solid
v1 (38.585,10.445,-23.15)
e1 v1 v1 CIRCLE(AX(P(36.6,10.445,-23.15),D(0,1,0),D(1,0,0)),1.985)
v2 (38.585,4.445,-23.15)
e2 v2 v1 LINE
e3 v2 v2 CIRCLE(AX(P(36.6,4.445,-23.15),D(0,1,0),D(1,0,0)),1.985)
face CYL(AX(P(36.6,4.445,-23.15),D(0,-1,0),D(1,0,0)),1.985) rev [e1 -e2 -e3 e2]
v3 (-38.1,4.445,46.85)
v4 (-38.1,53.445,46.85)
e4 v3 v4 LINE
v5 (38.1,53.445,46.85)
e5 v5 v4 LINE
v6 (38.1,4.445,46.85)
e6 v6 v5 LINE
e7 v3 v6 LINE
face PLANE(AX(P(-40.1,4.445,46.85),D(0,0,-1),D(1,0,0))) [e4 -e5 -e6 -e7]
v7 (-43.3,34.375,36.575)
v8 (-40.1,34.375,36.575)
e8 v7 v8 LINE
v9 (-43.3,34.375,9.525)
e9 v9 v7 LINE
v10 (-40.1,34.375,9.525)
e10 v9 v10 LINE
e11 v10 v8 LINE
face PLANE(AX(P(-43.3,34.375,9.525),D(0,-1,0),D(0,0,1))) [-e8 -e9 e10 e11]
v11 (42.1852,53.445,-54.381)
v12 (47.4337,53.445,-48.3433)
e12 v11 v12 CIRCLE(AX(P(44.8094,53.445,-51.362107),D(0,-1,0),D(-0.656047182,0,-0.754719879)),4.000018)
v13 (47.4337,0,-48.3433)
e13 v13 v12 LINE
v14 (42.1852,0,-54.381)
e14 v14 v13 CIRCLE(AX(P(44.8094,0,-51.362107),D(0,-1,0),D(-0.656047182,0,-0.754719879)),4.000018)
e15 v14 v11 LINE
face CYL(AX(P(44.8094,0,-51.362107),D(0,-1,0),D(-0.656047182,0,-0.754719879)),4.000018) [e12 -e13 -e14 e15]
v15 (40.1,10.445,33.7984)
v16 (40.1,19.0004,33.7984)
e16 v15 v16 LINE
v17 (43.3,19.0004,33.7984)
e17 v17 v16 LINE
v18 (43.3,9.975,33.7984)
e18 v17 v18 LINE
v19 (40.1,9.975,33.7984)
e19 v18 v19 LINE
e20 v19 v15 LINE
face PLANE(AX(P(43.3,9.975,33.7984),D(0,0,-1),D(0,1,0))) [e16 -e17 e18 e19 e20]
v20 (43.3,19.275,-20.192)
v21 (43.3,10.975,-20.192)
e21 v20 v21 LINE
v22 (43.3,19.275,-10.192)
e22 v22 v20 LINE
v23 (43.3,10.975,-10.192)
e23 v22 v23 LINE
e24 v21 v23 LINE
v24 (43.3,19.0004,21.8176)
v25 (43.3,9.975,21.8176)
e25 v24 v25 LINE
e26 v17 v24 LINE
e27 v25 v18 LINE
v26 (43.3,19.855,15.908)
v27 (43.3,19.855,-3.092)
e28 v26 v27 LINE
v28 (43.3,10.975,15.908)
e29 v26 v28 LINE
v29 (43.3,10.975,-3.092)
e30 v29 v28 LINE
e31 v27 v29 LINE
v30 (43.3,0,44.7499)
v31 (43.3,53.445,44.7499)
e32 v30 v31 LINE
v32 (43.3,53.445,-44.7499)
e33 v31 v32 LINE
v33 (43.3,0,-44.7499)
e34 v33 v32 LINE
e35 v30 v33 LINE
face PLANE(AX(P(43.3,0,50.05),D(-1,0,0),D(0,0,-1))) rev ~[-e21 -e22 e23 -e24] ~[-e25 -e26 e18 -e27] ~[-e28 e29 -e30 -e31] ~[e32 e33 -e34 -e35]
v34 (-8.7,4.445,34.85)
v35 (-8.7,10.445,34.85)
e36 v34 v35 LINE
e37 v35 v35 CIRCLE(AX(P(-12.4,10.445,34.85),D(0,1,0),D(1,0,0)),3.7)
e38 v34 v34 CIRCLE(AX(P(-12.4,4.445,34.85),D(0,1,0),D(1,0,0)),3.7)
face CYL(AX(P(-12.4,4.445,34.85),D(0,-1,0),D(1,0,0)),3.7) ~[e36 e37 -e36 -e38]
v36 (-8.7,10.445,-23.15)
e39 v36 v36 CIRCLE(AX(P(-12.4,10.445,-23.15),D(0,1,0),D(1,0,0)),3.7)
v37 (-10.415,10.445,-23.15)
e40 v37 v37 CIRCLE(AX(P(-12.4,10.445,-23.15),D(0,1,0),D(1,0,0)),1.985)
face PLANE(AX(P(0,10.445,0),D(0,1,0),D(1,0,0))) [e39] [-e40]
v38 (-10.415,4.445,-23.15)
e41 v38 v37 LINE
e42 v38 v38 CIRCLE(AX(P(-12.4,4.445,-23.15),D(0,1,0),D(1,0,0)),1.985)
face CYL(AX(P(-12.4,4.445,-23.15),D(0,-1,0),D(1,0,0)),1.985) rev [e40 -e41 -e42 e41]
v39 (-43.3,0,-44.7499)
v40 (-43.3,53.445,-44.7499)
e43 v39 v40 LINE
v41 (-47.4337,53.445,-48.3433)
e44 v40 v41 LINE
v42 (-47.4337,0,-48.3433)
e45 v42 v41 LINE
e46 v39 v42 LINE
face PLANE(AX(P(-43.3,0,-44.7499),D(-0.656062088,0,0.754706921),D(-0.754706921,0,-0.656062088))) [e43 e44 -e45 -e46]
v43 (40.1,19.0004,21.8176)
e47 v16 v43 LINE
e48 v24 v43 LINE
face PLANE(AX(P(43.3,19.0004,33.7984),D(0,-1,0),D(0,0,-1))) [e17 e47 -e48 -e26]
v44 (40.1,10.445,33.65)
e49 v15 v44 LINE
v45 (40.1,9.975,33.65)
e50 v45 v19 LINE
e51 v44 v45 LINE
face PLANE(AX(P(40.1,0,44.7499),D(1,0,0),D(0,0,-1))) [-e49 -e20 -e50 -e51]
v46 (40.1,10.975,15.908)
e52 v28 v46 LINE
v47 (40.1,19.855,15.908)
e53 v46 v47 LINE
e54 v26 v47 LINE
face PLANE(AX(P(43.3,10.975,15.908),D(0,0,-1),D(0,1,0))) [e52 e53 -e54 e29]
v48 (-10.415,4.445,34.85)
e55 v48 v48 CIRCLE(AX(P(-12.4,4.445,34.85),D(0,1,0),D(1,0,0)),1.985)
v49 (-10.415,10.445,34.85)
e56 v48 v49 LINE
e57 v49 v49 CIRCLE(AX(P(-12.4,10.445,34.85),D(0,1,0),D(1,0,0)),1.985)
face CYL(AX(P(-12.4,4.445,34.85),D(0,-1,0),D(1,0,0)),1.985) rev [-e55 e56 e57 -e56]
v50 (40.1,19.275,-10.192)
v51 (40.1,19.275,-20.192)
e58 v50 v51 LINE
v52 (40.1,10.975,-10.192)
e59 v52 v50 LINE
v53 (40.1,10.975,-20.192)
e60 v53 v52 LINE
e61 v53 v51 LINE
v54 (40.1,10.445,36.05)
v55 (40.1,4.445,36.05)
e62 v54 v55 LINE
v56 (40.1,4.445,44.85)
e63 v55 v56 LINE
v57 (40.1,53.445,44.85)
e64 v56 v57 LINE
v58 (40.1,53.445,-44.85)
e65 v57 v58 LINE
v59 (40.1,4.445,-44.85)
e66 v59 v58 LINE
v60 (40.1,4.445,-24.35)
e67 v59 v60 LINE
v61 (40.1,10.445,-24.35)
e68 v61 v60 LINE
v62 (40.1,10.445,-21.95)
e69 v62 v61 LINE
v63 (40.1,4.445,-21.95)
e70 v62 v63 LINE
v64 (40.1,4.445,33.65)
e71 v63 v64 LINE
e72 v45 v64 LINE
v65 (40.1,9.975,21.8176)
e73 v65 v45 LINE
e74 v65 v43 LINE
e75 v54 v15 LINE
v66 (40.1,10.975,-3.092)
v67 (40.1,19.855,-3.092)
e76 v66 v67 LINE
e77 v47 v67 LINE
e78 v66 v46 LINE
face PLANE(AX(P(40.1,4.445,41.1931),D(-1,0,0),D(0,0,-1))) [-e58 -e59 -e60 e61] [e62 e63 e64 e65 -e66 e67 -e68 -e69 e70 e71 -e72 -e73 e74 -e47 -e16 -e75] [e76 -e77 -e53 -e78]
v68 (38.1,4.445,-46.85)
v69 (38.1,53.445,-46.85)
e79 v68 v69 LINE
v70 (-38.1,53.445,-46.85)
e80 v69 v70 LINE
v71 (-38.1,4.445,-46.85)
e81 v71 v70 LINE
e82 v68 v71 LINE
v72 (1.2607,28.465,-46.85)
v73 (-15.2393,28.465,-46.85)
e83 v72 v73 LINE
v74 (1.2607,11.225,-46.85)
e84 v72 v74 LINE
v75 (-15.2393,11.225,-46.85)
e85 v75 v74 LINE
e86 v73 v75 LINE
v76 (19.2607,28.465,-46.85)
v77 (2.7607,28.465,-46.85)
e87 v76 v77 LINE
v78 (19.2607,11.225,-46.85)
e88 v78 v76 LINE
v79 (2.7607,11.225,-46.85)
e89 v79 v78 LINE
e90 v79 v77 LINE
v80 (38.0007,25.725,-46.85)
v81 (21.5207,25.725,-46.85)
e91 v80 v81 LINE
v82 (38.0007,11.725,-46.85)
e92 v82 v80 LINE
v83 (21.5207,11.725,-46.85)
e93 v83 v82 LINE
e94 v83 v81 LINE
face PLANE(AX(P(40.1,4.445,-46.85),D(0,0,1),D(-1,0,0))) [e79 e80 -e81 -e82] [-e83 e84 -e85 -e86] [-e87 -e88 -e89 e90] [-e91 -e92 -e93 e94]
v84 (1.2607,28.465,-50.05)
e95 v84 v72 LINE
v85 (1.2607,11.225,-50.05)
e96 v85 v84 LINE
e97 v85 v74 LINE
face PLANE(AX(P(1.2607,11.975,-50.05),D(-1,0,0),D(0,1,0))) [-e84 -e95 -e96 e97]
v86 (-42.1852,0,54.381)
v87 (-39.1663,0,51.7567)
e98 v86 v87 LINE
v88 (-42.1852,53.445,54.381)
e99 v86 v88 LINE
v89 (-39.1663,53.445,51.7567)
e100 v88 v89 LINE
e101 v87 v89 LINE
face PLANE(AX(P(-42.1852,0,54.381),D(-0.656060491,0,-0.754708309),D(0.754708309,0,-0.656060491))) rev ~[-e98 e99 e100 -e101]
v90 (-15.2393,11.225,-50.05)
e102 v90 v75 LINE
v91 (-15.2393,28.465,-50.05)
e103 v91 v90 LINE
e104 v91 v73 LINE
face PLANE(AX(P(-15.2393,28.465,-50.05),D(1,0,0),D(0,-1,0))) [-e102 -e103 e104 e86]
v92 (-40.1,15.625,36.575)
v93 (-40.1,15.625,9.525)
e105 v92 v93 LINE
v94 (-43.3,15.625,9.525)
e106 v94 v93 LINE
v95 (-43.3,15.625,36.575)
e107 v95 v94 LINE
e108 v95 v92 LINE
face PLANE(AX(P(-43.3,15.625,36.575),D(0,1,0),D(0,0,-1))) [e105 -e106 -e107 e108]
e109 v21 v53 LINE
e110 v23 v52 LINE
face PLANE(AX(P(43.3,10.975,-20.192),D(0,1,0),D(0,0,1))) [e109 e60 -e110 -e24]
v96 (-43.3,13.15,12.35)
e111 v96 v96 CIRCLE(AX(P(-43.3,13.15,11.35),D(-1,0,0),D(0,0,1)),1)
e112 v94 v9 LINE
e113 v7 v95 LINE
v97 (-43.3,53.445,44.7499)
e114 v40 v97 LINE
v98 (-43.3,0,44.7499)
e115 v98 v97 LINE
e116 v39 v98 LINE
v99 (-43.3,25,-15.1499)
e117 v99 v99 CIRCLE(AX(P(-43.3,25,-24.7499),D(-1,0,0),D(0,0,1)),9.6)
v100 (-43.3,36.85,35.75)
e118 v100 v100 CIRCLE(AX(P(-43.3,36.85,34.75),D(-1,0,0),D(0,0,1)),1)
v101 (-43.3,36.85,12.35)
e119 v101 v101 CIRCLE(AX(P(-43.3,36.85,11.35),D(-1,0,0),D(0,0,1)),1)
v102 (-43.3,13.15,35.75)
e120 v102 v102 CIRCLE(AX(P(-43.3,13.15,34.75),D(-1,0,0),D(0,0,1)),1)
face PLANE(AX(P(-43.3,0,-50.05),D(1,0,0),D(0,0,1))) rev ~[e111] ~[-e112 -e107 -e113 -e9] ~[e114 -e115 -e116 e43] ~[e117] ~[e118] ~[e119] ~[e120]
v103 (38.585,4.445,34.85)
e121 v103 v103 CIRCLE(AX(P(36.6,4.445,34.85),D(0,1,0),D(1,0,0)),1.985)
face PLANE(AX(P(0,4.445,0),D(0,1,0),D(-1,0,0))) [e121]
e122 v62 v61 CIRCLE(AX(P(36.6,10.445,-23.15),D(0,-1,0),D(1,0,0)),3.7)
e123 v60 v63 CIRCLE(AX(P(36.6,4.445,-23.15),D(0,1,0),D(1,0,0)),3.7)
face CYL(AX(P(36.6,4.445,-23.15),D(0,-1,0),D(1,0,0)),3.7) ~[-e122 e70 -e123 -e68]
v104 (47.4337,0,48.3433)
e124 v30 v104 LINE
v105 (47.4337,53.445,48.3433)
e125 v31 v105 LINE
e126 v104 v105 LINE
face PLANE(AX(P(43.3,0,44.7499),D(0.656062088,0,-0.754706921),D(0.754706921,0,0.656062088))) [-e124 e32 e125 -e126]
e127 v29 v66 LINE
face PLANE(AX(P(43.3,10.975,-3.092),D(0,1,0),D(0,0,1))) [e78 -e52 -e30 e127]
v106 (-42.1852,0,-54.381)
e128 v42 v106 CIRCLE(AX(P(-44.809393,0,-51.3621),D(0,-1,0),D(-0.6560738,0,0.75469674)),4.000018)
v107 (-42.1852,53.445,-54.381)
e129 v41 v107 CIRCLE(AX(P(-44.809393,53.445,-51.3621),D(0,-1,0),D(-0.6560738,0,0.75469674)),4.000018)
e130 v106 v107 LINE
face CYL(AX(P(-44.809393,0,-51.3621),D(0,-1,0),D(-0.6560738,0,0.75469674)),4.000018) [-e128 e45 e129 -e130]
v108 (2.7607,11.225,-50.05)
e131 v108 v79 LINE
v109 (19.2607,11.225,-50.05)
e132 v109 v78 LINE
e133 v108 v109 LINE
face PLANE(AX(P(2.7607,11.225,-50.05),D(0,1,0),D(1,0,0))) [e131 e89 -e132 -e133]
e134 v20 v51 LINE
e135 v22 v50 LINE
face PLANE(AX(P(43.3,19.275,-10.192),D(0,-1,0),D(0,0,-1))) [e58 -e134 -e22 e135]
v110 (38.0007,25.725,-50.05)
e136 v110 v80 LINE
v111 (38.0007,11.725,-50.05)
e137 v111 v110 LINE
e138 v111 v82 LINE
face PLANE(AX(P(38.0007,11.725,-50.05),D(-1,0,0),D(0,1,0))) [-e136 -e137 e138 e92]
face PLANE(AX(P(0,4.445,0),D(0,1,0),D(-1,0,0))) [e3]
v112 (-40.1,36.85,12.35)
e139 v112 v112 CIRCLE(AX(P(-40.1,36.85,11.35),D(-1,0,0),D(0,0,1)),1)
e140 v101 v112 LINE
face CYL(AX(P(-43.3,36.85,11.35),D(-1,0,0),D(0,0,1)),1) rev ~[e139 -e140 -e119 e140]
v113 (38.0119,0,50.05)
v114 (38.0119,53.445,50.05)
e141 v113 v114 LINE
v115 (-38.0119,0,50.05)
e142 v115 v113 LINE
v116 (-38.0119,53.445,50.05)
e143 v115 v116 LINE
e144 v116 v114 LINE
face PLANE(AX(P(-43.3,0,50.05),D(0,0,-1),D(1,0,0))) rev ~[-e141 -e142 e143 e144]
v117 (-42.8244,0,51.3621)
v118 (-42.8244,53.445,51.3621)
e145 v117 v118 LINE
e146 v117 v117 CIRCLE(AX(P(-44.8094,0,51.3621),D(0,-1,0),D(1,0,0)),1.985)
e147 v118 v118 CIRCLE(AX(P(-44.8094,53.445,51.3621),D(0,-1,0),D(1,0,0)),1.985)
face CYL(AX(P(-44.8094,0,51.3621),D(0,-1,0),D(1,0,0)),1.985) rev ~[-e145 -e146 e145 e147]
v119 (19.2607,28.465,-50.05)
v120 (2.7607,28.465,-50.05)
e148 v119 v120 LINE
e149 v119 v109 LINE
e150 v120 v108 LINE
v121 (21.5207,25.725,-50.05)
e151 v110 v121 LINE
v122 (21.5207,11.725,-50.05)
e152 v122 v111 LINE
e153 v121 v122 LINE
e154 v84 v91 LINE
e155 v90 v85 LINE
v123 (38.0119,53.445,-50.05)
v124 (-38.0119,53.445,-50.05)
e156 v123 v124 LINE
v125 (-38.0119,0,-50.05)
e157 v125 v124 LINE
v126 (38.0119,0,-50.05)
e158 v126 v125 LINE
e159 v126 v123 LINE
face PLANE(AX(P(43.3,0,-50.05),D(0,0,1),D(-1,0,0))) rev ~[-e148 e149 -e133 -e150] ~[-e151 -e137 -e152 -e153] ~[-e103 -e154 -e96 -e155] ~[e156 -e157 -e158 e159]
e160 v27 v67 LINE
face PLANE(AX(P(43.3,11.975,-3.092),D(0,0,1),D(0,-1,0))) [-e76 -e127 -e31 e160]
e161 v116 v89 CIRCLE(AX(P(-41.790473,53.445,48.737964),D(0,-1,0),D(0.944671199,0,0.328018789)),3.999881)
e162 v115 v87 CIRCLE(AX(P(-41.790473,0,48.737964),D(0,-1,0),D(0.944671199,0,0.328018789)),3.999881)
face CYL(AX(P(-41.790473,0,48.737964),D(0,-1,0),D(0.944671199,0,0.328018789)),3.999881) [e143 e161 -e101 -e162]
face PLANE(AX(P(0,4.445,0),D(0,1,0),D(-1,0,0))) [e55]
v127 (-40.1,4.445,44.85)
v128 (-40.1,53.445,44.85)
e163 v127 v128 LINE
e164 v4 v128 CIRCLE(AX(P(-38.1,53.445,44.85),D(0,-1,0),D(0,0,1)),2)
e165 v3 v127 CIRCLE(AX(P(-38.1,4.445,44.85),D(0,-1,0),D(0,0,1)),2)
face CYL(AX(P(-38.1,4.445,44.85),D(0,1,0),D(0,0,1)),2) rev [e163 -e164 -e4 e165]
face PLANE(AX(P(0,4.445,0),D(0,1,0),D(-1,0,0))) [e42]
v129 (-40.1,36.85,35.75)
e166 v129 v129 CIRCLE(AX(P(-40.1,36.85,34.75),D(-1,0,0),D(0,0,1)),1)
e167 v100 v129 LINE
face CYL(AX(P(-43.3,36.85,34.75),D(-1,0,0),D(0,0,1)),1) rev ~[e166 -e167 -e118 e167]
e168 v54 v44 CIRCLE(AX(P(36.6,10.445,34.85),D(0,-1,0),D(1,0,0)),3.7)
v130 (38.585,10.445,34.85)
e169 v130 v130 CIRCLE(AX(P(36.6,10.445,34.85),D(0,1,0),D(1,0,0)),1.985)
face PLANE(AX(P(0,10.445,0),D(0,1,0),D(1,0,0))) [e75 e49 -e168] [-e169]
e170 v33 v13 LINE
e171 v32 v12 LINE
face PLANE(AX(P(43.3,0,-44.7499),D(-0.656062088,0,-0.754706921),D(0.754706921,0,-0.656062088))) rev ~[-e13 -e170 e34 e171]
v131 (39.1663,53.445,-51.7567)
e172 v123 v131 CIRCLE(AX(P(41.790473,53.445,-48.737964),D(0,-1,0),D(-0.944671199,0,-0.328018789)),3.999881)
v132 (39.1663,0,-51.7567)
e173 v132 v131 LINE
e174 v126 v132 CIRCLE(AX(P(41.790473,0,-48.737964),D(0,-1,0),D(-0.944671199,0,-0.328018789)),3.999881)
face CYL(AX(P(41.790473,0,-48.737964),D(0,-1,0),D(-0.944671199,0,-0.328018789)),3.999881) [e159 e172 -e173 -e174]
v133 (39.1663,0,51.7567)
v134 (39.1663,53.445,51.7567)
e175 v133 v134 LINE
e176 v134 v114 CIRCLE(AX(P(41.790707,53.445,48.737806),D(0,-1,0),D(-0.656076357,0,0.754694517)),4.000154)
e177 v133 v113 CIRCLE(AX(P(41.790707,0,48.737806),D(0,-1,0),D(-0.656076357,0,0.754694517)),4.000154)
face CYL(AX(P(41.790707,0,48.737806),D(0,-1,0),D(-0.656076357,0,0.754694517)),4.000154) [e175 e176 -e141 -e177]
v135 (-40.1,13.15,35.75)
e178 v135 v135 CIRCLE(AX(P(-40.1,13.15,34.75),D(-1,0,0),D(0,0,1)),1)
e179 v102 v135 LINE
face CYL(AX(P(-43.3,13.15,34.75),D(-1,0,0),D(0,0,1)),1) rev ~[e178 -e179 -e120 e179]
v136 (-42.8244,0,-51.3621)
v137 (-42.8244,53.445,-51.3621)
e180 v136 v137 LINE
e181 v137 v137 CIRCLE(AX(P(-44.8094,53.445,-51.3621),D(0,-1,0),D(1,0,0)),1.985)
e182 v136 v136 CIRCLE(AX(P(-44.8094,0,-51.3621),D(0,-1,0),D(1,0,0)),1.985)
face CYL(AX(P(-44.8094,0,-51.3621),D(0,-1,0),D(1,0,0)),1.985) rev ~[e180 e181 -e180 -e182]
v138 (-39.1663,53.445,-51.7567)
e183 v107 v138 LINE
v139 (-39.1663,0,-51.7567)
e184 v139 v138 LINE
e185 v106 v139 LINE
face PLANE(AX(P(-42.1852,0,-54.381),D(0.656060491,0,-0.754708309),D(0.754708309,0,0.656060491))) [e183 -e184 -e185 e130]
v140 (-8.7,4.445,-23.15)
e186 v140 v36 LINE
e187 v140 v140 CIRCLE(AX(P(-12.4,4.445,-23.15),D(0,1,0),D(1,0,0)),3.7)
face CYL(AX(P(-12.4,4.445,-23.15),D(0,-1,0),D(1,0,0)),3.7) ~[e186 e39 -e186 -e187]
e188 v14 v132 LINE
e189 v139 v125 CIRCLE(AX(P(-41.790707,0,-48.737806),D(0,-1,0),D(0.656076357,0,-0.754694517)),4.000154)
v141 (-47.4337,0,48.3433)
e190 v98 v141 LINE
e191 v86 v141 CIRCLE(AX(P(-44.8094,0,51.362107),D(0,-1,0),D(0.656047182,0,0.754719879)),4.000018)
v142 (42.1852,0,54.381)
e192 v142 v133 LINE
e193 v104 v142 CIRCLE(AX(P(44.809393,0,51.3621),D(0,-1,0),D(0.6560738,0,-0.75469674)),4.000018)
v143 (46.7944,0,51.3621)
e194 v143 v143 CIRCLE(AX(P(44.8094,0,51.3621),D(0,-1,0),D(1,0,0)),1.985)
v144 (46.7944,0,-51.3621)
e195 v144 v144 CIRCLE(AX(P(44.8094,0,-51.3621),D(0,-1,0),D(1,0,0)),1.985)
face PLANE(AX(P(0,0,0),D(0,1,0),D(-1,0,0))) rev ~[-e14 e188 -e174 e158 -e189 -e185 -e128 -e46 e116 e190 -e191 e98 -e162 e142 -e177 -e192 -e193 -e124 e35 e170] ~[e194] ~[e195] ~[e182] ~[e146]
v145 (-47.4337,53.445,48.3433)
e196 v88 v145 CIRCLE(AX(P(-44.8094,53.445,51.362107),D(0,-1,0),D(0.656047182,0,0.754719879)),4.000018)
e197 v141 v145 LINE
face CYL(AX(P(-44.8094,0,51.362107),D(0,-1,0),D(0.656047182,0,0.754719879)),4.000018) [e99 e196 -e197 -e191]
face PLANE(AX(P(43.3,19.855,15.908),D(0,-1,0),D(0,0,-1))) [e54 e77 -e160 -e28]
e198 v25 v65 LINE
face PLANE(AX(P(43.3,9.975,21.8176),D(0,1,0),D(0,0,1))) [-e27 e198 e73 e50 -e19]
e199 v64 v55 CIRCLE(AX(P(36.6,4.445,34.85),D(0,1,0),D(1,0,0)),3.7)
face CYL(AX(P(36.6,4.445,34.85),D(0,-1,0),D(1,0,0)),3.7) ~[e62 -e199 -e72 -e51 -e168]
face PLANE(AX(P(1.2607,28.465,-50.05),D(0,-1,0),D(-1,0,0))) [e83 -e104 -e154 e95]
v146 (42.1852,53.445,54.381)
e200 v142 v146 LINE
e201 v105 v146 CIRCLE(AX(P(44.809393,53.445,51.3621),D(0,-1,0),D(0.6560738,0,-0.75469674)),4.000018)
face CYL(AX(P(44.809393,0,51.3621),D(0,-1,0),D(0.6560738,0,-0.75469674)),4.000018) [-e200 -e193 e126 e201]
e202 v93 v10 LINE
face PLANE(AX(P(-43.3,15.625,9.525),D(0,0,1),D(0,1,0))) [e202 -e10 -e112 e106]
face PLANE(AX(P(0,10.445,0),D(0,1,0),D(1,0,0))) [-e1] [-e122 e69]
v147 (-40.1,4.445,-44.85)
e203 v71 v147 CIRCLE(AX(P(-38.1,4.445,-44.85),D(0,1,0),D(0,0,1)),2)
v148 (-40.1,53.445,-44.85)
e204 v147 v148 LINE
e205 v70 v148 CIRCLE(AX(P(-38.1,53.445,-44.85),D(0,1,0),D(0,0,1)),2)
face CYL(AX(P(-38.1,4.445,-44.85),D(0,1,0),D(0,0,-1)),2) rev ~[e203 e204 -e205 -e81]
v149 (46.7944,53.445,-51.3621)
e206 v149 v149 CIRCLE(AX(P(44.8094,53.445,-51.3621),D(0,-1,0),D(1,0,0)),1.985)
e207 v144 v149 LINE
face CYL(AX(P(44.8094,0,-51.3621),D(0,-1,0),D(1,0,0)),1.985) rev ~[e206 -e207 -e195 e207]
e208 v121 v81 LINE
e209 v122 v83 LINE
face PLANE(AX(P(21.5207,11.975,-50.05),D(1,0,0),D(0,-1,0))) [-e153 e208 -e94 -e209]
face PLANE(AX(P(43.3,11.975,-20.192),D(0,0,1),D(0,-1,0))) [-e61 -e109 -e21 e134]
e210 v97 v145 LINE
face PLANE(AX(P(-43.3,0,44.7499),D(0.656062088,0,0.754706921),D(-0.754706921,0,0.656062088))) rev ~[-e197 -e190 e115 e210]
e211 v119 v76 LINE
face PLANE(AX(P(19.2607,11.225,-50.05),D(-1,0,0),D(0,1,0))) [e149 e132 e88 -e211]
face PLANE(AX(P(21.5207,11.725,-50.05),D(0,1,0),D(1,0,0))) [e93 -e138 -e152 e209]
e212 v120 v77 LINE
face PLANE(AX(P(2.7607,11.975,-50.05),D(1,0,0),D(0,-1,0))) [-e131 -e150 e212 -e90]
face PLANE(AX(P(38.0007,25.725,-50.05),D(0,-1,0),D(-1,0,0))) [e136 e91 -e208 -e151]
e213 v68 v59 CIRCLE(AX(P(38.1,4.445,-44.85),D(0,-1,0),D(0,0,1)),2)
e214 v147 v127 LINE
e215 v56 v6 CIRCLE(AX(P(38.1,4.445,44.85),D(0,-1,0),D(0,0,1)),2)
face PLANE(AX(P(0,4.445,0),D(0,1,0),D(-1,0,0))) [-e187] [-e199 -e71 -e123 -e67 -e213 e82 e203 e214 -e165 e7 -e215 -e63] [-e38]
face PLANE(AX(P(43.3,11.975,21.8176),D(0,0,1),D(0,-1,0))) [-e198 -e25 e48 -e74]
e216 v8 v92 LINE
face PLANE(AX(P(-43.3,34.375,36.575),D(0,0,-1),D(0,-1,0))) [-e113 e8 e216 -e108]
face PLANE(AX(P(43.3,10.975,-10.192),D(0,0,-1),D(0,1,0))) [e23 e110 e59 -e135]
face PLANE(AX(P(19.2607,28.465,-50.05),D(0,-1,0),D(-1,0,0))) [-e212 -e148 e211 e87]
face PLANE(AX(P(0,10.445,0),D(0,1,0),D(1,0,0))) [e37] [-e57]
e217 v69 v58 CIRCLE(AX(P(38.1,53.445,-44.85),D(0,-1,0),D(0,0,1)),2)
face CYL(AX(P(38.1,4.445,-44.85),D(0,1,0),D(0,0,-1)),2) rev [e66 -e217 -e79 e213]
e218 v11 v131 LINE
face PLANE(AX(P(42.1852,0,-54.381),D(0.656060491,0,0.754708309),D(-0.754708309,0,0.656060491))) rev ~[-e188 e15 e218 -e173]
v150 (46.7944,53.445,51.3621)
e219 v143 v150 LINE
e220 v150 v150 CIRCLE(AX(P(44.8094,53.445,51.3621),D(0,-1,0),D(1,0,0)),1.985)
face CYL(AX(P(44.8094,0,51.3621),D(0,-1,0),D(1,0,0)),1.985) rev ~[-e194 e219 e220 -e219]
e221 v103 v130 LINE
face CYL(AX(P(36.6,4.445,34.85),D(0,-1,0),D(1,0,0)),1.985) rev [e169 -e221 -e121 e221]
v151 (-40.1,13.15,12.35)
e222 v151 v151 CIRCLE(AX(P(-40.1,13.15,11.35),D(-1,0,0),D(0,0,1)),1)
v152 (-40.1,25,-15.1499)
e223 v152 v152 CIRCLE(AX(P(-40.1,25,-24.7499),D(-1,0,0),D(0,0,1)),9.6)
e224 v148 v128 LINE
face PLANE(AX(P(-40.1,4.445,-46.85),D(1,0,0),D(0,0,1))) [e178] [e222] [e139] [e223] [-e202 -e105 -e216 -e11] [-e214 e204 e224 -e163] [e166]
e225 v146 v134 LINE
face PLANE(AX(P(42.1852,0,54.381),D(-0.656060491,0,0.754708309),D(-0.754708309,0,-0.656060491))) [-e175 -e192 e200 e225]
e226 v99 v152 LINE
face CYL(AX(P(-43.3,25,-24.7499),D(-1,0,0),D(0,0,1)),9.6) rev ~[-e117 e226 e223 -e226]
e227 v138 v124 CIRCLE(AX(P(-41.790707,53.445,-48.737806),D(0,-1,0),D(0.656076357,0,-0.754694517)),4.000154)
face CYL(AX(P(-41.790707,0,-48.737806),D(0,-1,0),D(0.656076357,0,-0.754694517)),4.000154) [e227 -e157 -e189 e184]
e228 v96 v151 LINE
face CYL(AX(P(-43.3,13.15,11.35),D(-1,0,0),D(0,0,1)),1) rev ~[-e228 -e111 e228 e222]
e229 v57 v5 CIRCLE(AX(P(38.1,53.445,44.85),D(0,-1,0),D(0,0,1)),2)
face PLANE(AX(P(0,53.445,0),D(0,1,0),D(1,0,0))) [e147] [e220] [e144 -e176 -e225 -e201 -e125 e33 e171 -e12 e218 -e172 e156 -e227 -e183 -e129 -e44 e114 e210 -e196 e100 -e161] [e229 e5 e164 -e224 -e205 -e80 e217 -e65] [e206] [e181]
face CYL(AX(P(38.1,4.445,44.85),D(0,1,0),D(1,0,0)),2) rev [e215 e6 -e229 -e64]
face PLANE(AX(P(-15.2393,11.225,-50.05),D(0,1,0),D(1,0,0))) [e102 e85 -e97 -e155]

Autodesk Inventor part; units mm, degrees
ref_plane "YZ Plane" through (0, 0, 0) normal (1, 0, 0) x (0, 1, 0)
ref_plane "XZ Plane" through (0, 0, 0) normal (0, 1, 0) x (-1, 0, 0)
ref_plane "XY Plane" through (0, 0, 0) normal (0, 0, 1) x (1, 0, 0)
sketch "Sketch1" plane through (0, 0, 0) normal (0, 1, 0) x (-1, 0, 0)
  line L0 (-43.3, -50.05) -> (43.3, -50.05)
  line L1 (43.3, -50.05) -> (43.3, 50.05)
  line L2 (43.3, 50.05) -> (-43.3, 50.05)
  line L3 (-43.3, 50.05) -> (-43.3, -50.05)
  line L4 (-43.3, -50.05) -> (43.3, 50.05) construction
  line L5 (43.3, -50.05) -> (-43.3, 50.05) construction
  point P0 (0, 0)
  dimension "d0" = 86.6
  dimension "d1" = 100.1
extrude "Extrusion1" add sketch "Sketch1" along normal blind 4.445
sketch "Sketch2" plane through (0, 4.445, 0) normal (0, 1, 0) x (1, 0, 0)
  line L0 (40.1, 46.85) -> (-40.1, 46.85)
  line L1 (-40.1, 46.85) -> (-40.1, -46.85)
  line L2 (-40.1, -46.85) -> (40.1, -46.85)
  line L3 (40.1, -46.85) -> (40.1, 46.85)
  line L4 (40.1, 46.85) -> (-40.1, -46.85) construction
  line L5 (-40.1, 46.85) -> (40.1, -46.85) construction
  line L6 (-43.3, 50.05) -> (-43.3, -50.05) projected
  line L7 (-43.3, -50.05) -> (43.3, -50.05) projected
  line L8 (43.3, 50.05) -> (-43.3, 50.05) projected
  line L9 (43.3, -50.05) -> (43.3, 50.05) projected
  line L10 (36.9, -43.65) -> (43.3, -50.05) construction
  line L11 (34.4431, -46.85) -> (40.4716, -52.8784)
  line L12 (46.1284, -47.2216) -> (40.1, -41.1931)
  arc A0 (40.4716, -52.8784) -> (46.1284, -47.2216) centre (43.3, -50.05) ccw
  circle A1 centre (43.3, -50.05) radius 1.375
  point P0 (0, 0)
  dimension "d4" = 3.2
  dimension "d5" = 3.2
  dimension "d22" = 8
  dimension "d23" = 2.75
extrude "Extrusion2" add sketch "Sketch2" along normal blind 49 contours L0 L1 L2 L11 L7 L6 L8 L9 L12 L3 | L12 L9 A1 L7 L11 L2 L3 | L9 L7 A1 picked at (42.4402, -49.7491)
sketch "Sketch4" plane through (0, 0, 0) normal (0, -1, 0) x (1, 0, 0)
  line L0 (41.7906, 48.7379) -> (44.8094, 51.3621) construction
  line L1 (43.3, 50.05) -> (43.3, -50.05) projected
  line L2 (43.3, 44.7499) -> (47.4337, 48.3433)
  line L3 (42.1852, 54.381) -> (39.1663, 51.7567)
  arc A0 (39.1663, 51.7567) -> (38.0119, 50.05) centre (41.7906, 48.7379) ccw
  arc A1 (47.4337, 48.3433) -> (42.1852, 54.381) centre (44.8094, 51.3621) ccw
  line L4 (-43.3, 50.05) -> (43.3, 50.05) projected
  line L5 (38.0119, 50.05) -> (43.3, 50.05)
  line L6 (43.3, 50.05) -> (43.3, 44.7499)
  circle A2 centre (44.8094, 51.3621) radius 1.985
  line L7 (0, 50.05) -> (0, -50.05) construction
  line L8 (43.3, -50.05) -> (-43.3, -50.05) construction
  line L9 (43.3, 0) -> (-33.3, 0) construction
  line L10 (43.3, -50.05) -> (43.3, 50.05)
  line L11 (43.3, -44.7499) -> (47.4337, -48.3433)
  line L12 (42.1852, -54.381) -> (39.1663, -51.7567)
  arc A3 (38.0119, -50.05) -> (39.1663, -51.7567) centre (41.7906, -48.7379) ccw
  arc A4 (42.1852, -54.381) -> (47.4337, -48.3433) centre (44.8094, -51.3621) ccw
  line L13 (-43.3, -50.05) -> (43.3, -50.05)
  circle A5 centre (44.8094, -51.3621) radius 1.985
  line L14 (-43.3, 50.05) -> (-43.3, -50.05)
  line L15 (-43.3, 44.7499) -> (-47.4337, 48.3433)
  line L16 (-42.1852, 54.381) -> (-39.1663, 51.7567)
  arc A6 (-38.0119, 50.05) -> (-39.1663, 51.7567) centre (-41.7906, 48.7379) ccw
  arc A7 (-42.1852, 54.381) -> (-47.4337, 48.3433) centre (-44.8094, 51.3621) ccw
  line L17 (-38.0119, 50.05) -> (-43.3, 50.05)
  circle A8 centre (-44.8094, 51.3621) radius 1.985
  arc A9 (-47.4337, -48.3433) -> (-42.1852, -54.381) centre (-44.8094, -51.3621) ccw
  line L18 (-43.3, -44.7499) -> (-47.4337, -48.3433)
  line L19 (-42.1852, -54.381) -> (-39.1663, -51.7567)
  arc A10 (-39.1663, -51.7567) -> (-38.0119, -50.05) centre (-41.7906, -48.7379) ccw
  circle A11 centre (-44.8094, -51.3621) radius 1.985
  line L20 (-38.0119, -50.05) -> (-43.3, -50.05)
  line L21 (-43.3, -50.05) -> (-43.3, 50.05)
  point P0 (0, 0)
  point P1 (-38.0119, -50.05)
  point P2 (-43.3, -44.7499)
  point P3 (-38.0119, 50.05)
  point P4 (43.3, -44.7499)
  point P5 (43.3, -50.05)
  dimension "d24" = 2
  dimension "d25" = 8
  dimension "d26" = 131
  dimension "d27" = 3.97
extrude "Extrusion4" add sketch "Sketch4" against normal up to surface (53.445 mm away) contours L4 A0 L3 A1 L2 L1 | L11 A4 L12 A3 L13 L1 | L4 L14 L15 A7 L16 A6 | A10 L19 A9 L18 L14 L13
fillet "Fillet2" radius 2 4 edges at (40.1, 28.945, -46.85) (-40.1, 28.945, -46.85) (-40.1, 28.945, 46.85) (40.1, 28.945, 46.85)
sketch "Sketch14" plane through (0, 4.445, 0) normal (0, 1, 0) x (1, 0, 0)
  circle A0 centre (36.6, -34.85) radius 3.7
  circle A1 centre (36.6, -34.85) radius 1.985
  line L0 (38.1, -46.85) -> (-38.1, -46.85) projected
  line L1 (40.1, 44.85) -> (40.1, -44.85) projected
  line L2 (-38.1, -46.85) -> (38.1, -46.85) construction
  line L3 (0, -46.85) -> (0, 50.05) construction
  line L4 (38.0119, 50.05) -> (-38.0119, 50.05) construction
  circle A2 centre (36.6, 23.15) radius 3.7
  circle A3 centre (36.6, 23.15) radius 1.985
  line L5 (-40.1, 44.85) -> (-40.1, -44.85) construction
  line L6 (-40.1, 0) -> (40.1, 0) construction
  line L7 (40.1, -44.85) -> (40.1, 44.85) construction
  circle A4 centre (-12.4, -34.85) radius 3.7
  circle A5 centre (-12.4, -34.85) radius 1.985
  circle A6 centre (-12.4, 23.15) radius 1.985
  circle A7 centre (-12.4, 23.15) radius 3.7
  point P0 (0, 0)
  dimension "d114" = 7.4
  dimension "d115" = 3.97
  dimension "d116" = 12
  dimension "d117" = 3.5
  dimension "d120" = 58
  dimension "d127" = 49
sketch "Sketch15" plane through (0, 4.445, 0) normal (0, 1, 0) x (1, 0, 0)
  point P0 (0, 0)
extrude "Extrusion10" add sketch "Sketch14" along normal blind 6
sketch "Sketch16" plane through (43.3, 0, 44.7499) normal (1, 0, 0) x (0, 0, -1)
  line L0 (12.9515, 13.2621) -> (12.9515, 13.455) projected
  line L1 (20.9323, 13.455) -> (20.9323, 13.2621) projected
  line L2 (13.9419, 14.5004) -> (19.9419, 14.5004) projected
  line L3 (88.3241, 11.975) -> (9.3999, 11.975) projected
  line L4 (22.9323, 9.975) -> (10.9515, 9.975)
  line L5 (10.9515, 9.975) -> (10.9515, 19.0004)
  line L6 (10.9515, 19.0004) -> (22.9323, 19.0004)
  line L7 (22.9323, 19.0004) -> (22.9323, 9.975)
  line L8 (30.8419, 17.055) -> (30.8419, 14.5766) projected
  line L9 (45.8419, 14.5766) -> (45.8419, 17.055) projected
  line L10 (45.0419, 17.855) -> (31.6419, 17.855) projected
  line L11 (47.8419, 10.975) -> (28.8419, 10.975)
  line L12 (28.8419, 10.975) -> (28.8419, 19.855)
  line L13 (28.8419, 19.855) -> (47.8419, 19.855)
  line L14 (47.8419, 19.855) -> (47.8419, 10.975)
  line L15 (56.4419, 17.775) -> (56.4419, 11.775) projected
  line L16 (63.4419, 11.775) -> (63.4419, 17.775) projected
  line L17 (63.4419, 17.775) -> (59.9419, 17.775) projected
  line L18 (59.9419, 17.775) -> (56.4419, 17.775) projected
  line L19 (64.9419, 10.975) -> (54.9419, 10.975)
  line L20 (54.9419, 10.975) -> (54.9419, 19.275)
  line L21 (54.9419, 19.275) -> (64.9419, 19.275)
  line L22 (64.9419, 19.275) -> (64.9419, 10.975)
  point P0 (44.7499, 0)
  dimension "d134" = 4.5
  dimension "d135" = 2
  dimension "d136" = 2
  dimension "d137" = 2
  dimension "d138" = 2
  dimension "d139" = 1
  dimension "d140" = 2
  dimension "d141" = 2
  dimension "d142" = 1
  dimension "d143" = 1.5
  dimension "d144" = 1.5
  dimension "d145" = 1.5
extrude "Extrusion11" cut sketch "Sketch16" against normal up to surface (3.2 mm away)
sketch "Sketch17" plane through (38.0119, 0, -50.05) normal (0, 0, -1) x (-1, 0, 0)
  line L0 (16.1912, 11.975) -> (16.1912, 25.475) projected
  line L1 (0.3112, 11.975) -> (0.3112, 25.475) projected
  line L2 (0.3112, 25.475) -> (16.1912, 25.475) projected
  line L3 (50.9119, 11.975) -> (0.9119, 11.975) projected
  line L4 (16.4912, 11.725) -> (0.0112, 11.725)
  line L5 (0.0112, 11.725) -> (0.0112, 25.725)
  line L6 (0.0112, 25.725) -> (16.4912, 25.725)
  line L7 (16.4912, 25.725) -> (16.4912, 11.725)
  line L8 (19.4512, 18.7546) -> (19.4512, 21.7546) projected
  line L9 (34.5512, 21.7546) -> (34.5512, 18.7546) projected
  line L10 (24.0012, 27.465) -> (30.0012, 27.465) projected
  line L11 (35.2512, 11.225) -> (18.7512, 11.225)
  line L12 (18.7512, 11.225) -> (18.7512, 28.465)
  line L13 (18.7512, 28.465) -> (35.2512, 28.465)
  line L14 (35.2512, 28.465) -> (35.2512, 11.225)
  line L15 (37.4512, 18.7546) -> (37.4512, 21.7546) projected
  line L16 (52.5512, 21.7546) -> (52.5512, 18.7546) projected
  line L17 (42.0012, 27.465) -> (48.0012, 27.465) projected
  line L18 (53.2512, 11.225) -> (36.7512, 11.225)
  line L19 (36.7512, 11.225) -> (36.7512, 28.465)
  line L20 (36.7512, 28.465) -> (53.2512, 28.465)
  line L21 (53.2512, 28.465) -> (53.2512, 11.225)
  point P0 (38.0119, 0)
  point P1 (18.7512, 11.975)
  point P2 (35.2512, 11.975)
  dimension "d148" = 0.3
  dimension "d149" = 0.3
  dimension "d150" = 0.25
  dimension "d151" = 0.25
  dimension "d154" = 0.7
  dimension "d155" = 0.7
  dimension "d156" = 1
  dimension "d157" = 0.75
  dimension "d158" = 1
  dimension "d159" = 0.7
  dimension "d160" = 0.7
  dimension "d161" = 0.75
extrude "Extrusion12" cut sketch "Sketch17" against normal up to surface (3.2 mm away)
sketch "Sketch19" plane through (-43.3, 0, -44.7499) normal (-1, 0, 0) x (0, 0, 1)
  circle A0 centre (20, 25) radius 9.6
  line L0 (0, 53.445) -> (0, 0) projected
  line L1 (0, 0) -> (89.4999, 0) projected
  point P0 (44.7499, 0)
  dimension "d162" = 19.2
  dimension "d163" = 20
  dimension "d164" = 25
extrude "Extrusion13" cut sketch "Sketch19" against normal up to surface (3.2 mm away)
sketch "Sketch20" plane through (-43.3, 0, -44.7499) normal (-1, 0, 0) x (0, 0, 1)
  line L0 (0, 53.445) -> (89.4999, 53.445) projected
  line L1 (81.3249, 15.625) -> (54.2749, 15.625)
  line L2 (54.2749, 15.625) -> (54.2749, 34.375)
  line L3 (54.2749, 34.375) -> (81.3249, 34.375)
  line L4 (81.3249, 34.375) -> (81.3249, 15.625)
  line L5 (81.3249, 15.625) -> (54.2749, 34.375) construction
  line L6 (54.2749, 15.625) -> (81.3249, 34.375) construction
  line L7 (81.4999, 11.15) -> (54.0999, 11.15)
  line L8 (54.0999, 11.15) -> (54.0999, 38.85)
  line L9 (54.0999, 38.85) -> (81.4999, 38.85)
  line L10 (81.4999, 38.85) -> (81.4999, 11.15)
  line L11 (81.4999, 11.15) -> (54.0999, 38.85) construction
  line L12 (54.0999, 11.15) -> (81.4999, 38.85) construction
  line L13 (0, 0) -> (89.4999, 0) projected
  line L14 (89.4999, 0) -> (89.4999, 53.445) projected
  circle A0 centre (56.0999, 36.85) radius 1
  line L15 (67.7999, 34.375) -> (67.7999, 11.15) construction
  line L16 (54.0999, 25) -> (81.4999, 25) construction
  circle A1 centre (79.4999, 36.85) radius 1
  circle A2 centre (56.0999, 13.15) radius 1
  circle A3 centre (79.4999, 13.15) radius 1
  point P0 (44.7499, 0)
  point P1 (67.7999, 25)
  dimension "d195" = 27.05
  dimension "d196" = 18.75
  dimension "d197" = 27.7
  dimension "d198" = 27.4
  dimension "d199" = 25
  dimension "d200" = 8
  dimension "d203" = 2
  dimension "d204" = 2
  dimension "d205" = 2
extrude "Extrusion16" cut sketch "Sketch20" against normal up to surface (3.2 mm away) contours L1 L2 L3 L4 | A0 | A1 | A2 | A3
properties part number "_3DPrint"
